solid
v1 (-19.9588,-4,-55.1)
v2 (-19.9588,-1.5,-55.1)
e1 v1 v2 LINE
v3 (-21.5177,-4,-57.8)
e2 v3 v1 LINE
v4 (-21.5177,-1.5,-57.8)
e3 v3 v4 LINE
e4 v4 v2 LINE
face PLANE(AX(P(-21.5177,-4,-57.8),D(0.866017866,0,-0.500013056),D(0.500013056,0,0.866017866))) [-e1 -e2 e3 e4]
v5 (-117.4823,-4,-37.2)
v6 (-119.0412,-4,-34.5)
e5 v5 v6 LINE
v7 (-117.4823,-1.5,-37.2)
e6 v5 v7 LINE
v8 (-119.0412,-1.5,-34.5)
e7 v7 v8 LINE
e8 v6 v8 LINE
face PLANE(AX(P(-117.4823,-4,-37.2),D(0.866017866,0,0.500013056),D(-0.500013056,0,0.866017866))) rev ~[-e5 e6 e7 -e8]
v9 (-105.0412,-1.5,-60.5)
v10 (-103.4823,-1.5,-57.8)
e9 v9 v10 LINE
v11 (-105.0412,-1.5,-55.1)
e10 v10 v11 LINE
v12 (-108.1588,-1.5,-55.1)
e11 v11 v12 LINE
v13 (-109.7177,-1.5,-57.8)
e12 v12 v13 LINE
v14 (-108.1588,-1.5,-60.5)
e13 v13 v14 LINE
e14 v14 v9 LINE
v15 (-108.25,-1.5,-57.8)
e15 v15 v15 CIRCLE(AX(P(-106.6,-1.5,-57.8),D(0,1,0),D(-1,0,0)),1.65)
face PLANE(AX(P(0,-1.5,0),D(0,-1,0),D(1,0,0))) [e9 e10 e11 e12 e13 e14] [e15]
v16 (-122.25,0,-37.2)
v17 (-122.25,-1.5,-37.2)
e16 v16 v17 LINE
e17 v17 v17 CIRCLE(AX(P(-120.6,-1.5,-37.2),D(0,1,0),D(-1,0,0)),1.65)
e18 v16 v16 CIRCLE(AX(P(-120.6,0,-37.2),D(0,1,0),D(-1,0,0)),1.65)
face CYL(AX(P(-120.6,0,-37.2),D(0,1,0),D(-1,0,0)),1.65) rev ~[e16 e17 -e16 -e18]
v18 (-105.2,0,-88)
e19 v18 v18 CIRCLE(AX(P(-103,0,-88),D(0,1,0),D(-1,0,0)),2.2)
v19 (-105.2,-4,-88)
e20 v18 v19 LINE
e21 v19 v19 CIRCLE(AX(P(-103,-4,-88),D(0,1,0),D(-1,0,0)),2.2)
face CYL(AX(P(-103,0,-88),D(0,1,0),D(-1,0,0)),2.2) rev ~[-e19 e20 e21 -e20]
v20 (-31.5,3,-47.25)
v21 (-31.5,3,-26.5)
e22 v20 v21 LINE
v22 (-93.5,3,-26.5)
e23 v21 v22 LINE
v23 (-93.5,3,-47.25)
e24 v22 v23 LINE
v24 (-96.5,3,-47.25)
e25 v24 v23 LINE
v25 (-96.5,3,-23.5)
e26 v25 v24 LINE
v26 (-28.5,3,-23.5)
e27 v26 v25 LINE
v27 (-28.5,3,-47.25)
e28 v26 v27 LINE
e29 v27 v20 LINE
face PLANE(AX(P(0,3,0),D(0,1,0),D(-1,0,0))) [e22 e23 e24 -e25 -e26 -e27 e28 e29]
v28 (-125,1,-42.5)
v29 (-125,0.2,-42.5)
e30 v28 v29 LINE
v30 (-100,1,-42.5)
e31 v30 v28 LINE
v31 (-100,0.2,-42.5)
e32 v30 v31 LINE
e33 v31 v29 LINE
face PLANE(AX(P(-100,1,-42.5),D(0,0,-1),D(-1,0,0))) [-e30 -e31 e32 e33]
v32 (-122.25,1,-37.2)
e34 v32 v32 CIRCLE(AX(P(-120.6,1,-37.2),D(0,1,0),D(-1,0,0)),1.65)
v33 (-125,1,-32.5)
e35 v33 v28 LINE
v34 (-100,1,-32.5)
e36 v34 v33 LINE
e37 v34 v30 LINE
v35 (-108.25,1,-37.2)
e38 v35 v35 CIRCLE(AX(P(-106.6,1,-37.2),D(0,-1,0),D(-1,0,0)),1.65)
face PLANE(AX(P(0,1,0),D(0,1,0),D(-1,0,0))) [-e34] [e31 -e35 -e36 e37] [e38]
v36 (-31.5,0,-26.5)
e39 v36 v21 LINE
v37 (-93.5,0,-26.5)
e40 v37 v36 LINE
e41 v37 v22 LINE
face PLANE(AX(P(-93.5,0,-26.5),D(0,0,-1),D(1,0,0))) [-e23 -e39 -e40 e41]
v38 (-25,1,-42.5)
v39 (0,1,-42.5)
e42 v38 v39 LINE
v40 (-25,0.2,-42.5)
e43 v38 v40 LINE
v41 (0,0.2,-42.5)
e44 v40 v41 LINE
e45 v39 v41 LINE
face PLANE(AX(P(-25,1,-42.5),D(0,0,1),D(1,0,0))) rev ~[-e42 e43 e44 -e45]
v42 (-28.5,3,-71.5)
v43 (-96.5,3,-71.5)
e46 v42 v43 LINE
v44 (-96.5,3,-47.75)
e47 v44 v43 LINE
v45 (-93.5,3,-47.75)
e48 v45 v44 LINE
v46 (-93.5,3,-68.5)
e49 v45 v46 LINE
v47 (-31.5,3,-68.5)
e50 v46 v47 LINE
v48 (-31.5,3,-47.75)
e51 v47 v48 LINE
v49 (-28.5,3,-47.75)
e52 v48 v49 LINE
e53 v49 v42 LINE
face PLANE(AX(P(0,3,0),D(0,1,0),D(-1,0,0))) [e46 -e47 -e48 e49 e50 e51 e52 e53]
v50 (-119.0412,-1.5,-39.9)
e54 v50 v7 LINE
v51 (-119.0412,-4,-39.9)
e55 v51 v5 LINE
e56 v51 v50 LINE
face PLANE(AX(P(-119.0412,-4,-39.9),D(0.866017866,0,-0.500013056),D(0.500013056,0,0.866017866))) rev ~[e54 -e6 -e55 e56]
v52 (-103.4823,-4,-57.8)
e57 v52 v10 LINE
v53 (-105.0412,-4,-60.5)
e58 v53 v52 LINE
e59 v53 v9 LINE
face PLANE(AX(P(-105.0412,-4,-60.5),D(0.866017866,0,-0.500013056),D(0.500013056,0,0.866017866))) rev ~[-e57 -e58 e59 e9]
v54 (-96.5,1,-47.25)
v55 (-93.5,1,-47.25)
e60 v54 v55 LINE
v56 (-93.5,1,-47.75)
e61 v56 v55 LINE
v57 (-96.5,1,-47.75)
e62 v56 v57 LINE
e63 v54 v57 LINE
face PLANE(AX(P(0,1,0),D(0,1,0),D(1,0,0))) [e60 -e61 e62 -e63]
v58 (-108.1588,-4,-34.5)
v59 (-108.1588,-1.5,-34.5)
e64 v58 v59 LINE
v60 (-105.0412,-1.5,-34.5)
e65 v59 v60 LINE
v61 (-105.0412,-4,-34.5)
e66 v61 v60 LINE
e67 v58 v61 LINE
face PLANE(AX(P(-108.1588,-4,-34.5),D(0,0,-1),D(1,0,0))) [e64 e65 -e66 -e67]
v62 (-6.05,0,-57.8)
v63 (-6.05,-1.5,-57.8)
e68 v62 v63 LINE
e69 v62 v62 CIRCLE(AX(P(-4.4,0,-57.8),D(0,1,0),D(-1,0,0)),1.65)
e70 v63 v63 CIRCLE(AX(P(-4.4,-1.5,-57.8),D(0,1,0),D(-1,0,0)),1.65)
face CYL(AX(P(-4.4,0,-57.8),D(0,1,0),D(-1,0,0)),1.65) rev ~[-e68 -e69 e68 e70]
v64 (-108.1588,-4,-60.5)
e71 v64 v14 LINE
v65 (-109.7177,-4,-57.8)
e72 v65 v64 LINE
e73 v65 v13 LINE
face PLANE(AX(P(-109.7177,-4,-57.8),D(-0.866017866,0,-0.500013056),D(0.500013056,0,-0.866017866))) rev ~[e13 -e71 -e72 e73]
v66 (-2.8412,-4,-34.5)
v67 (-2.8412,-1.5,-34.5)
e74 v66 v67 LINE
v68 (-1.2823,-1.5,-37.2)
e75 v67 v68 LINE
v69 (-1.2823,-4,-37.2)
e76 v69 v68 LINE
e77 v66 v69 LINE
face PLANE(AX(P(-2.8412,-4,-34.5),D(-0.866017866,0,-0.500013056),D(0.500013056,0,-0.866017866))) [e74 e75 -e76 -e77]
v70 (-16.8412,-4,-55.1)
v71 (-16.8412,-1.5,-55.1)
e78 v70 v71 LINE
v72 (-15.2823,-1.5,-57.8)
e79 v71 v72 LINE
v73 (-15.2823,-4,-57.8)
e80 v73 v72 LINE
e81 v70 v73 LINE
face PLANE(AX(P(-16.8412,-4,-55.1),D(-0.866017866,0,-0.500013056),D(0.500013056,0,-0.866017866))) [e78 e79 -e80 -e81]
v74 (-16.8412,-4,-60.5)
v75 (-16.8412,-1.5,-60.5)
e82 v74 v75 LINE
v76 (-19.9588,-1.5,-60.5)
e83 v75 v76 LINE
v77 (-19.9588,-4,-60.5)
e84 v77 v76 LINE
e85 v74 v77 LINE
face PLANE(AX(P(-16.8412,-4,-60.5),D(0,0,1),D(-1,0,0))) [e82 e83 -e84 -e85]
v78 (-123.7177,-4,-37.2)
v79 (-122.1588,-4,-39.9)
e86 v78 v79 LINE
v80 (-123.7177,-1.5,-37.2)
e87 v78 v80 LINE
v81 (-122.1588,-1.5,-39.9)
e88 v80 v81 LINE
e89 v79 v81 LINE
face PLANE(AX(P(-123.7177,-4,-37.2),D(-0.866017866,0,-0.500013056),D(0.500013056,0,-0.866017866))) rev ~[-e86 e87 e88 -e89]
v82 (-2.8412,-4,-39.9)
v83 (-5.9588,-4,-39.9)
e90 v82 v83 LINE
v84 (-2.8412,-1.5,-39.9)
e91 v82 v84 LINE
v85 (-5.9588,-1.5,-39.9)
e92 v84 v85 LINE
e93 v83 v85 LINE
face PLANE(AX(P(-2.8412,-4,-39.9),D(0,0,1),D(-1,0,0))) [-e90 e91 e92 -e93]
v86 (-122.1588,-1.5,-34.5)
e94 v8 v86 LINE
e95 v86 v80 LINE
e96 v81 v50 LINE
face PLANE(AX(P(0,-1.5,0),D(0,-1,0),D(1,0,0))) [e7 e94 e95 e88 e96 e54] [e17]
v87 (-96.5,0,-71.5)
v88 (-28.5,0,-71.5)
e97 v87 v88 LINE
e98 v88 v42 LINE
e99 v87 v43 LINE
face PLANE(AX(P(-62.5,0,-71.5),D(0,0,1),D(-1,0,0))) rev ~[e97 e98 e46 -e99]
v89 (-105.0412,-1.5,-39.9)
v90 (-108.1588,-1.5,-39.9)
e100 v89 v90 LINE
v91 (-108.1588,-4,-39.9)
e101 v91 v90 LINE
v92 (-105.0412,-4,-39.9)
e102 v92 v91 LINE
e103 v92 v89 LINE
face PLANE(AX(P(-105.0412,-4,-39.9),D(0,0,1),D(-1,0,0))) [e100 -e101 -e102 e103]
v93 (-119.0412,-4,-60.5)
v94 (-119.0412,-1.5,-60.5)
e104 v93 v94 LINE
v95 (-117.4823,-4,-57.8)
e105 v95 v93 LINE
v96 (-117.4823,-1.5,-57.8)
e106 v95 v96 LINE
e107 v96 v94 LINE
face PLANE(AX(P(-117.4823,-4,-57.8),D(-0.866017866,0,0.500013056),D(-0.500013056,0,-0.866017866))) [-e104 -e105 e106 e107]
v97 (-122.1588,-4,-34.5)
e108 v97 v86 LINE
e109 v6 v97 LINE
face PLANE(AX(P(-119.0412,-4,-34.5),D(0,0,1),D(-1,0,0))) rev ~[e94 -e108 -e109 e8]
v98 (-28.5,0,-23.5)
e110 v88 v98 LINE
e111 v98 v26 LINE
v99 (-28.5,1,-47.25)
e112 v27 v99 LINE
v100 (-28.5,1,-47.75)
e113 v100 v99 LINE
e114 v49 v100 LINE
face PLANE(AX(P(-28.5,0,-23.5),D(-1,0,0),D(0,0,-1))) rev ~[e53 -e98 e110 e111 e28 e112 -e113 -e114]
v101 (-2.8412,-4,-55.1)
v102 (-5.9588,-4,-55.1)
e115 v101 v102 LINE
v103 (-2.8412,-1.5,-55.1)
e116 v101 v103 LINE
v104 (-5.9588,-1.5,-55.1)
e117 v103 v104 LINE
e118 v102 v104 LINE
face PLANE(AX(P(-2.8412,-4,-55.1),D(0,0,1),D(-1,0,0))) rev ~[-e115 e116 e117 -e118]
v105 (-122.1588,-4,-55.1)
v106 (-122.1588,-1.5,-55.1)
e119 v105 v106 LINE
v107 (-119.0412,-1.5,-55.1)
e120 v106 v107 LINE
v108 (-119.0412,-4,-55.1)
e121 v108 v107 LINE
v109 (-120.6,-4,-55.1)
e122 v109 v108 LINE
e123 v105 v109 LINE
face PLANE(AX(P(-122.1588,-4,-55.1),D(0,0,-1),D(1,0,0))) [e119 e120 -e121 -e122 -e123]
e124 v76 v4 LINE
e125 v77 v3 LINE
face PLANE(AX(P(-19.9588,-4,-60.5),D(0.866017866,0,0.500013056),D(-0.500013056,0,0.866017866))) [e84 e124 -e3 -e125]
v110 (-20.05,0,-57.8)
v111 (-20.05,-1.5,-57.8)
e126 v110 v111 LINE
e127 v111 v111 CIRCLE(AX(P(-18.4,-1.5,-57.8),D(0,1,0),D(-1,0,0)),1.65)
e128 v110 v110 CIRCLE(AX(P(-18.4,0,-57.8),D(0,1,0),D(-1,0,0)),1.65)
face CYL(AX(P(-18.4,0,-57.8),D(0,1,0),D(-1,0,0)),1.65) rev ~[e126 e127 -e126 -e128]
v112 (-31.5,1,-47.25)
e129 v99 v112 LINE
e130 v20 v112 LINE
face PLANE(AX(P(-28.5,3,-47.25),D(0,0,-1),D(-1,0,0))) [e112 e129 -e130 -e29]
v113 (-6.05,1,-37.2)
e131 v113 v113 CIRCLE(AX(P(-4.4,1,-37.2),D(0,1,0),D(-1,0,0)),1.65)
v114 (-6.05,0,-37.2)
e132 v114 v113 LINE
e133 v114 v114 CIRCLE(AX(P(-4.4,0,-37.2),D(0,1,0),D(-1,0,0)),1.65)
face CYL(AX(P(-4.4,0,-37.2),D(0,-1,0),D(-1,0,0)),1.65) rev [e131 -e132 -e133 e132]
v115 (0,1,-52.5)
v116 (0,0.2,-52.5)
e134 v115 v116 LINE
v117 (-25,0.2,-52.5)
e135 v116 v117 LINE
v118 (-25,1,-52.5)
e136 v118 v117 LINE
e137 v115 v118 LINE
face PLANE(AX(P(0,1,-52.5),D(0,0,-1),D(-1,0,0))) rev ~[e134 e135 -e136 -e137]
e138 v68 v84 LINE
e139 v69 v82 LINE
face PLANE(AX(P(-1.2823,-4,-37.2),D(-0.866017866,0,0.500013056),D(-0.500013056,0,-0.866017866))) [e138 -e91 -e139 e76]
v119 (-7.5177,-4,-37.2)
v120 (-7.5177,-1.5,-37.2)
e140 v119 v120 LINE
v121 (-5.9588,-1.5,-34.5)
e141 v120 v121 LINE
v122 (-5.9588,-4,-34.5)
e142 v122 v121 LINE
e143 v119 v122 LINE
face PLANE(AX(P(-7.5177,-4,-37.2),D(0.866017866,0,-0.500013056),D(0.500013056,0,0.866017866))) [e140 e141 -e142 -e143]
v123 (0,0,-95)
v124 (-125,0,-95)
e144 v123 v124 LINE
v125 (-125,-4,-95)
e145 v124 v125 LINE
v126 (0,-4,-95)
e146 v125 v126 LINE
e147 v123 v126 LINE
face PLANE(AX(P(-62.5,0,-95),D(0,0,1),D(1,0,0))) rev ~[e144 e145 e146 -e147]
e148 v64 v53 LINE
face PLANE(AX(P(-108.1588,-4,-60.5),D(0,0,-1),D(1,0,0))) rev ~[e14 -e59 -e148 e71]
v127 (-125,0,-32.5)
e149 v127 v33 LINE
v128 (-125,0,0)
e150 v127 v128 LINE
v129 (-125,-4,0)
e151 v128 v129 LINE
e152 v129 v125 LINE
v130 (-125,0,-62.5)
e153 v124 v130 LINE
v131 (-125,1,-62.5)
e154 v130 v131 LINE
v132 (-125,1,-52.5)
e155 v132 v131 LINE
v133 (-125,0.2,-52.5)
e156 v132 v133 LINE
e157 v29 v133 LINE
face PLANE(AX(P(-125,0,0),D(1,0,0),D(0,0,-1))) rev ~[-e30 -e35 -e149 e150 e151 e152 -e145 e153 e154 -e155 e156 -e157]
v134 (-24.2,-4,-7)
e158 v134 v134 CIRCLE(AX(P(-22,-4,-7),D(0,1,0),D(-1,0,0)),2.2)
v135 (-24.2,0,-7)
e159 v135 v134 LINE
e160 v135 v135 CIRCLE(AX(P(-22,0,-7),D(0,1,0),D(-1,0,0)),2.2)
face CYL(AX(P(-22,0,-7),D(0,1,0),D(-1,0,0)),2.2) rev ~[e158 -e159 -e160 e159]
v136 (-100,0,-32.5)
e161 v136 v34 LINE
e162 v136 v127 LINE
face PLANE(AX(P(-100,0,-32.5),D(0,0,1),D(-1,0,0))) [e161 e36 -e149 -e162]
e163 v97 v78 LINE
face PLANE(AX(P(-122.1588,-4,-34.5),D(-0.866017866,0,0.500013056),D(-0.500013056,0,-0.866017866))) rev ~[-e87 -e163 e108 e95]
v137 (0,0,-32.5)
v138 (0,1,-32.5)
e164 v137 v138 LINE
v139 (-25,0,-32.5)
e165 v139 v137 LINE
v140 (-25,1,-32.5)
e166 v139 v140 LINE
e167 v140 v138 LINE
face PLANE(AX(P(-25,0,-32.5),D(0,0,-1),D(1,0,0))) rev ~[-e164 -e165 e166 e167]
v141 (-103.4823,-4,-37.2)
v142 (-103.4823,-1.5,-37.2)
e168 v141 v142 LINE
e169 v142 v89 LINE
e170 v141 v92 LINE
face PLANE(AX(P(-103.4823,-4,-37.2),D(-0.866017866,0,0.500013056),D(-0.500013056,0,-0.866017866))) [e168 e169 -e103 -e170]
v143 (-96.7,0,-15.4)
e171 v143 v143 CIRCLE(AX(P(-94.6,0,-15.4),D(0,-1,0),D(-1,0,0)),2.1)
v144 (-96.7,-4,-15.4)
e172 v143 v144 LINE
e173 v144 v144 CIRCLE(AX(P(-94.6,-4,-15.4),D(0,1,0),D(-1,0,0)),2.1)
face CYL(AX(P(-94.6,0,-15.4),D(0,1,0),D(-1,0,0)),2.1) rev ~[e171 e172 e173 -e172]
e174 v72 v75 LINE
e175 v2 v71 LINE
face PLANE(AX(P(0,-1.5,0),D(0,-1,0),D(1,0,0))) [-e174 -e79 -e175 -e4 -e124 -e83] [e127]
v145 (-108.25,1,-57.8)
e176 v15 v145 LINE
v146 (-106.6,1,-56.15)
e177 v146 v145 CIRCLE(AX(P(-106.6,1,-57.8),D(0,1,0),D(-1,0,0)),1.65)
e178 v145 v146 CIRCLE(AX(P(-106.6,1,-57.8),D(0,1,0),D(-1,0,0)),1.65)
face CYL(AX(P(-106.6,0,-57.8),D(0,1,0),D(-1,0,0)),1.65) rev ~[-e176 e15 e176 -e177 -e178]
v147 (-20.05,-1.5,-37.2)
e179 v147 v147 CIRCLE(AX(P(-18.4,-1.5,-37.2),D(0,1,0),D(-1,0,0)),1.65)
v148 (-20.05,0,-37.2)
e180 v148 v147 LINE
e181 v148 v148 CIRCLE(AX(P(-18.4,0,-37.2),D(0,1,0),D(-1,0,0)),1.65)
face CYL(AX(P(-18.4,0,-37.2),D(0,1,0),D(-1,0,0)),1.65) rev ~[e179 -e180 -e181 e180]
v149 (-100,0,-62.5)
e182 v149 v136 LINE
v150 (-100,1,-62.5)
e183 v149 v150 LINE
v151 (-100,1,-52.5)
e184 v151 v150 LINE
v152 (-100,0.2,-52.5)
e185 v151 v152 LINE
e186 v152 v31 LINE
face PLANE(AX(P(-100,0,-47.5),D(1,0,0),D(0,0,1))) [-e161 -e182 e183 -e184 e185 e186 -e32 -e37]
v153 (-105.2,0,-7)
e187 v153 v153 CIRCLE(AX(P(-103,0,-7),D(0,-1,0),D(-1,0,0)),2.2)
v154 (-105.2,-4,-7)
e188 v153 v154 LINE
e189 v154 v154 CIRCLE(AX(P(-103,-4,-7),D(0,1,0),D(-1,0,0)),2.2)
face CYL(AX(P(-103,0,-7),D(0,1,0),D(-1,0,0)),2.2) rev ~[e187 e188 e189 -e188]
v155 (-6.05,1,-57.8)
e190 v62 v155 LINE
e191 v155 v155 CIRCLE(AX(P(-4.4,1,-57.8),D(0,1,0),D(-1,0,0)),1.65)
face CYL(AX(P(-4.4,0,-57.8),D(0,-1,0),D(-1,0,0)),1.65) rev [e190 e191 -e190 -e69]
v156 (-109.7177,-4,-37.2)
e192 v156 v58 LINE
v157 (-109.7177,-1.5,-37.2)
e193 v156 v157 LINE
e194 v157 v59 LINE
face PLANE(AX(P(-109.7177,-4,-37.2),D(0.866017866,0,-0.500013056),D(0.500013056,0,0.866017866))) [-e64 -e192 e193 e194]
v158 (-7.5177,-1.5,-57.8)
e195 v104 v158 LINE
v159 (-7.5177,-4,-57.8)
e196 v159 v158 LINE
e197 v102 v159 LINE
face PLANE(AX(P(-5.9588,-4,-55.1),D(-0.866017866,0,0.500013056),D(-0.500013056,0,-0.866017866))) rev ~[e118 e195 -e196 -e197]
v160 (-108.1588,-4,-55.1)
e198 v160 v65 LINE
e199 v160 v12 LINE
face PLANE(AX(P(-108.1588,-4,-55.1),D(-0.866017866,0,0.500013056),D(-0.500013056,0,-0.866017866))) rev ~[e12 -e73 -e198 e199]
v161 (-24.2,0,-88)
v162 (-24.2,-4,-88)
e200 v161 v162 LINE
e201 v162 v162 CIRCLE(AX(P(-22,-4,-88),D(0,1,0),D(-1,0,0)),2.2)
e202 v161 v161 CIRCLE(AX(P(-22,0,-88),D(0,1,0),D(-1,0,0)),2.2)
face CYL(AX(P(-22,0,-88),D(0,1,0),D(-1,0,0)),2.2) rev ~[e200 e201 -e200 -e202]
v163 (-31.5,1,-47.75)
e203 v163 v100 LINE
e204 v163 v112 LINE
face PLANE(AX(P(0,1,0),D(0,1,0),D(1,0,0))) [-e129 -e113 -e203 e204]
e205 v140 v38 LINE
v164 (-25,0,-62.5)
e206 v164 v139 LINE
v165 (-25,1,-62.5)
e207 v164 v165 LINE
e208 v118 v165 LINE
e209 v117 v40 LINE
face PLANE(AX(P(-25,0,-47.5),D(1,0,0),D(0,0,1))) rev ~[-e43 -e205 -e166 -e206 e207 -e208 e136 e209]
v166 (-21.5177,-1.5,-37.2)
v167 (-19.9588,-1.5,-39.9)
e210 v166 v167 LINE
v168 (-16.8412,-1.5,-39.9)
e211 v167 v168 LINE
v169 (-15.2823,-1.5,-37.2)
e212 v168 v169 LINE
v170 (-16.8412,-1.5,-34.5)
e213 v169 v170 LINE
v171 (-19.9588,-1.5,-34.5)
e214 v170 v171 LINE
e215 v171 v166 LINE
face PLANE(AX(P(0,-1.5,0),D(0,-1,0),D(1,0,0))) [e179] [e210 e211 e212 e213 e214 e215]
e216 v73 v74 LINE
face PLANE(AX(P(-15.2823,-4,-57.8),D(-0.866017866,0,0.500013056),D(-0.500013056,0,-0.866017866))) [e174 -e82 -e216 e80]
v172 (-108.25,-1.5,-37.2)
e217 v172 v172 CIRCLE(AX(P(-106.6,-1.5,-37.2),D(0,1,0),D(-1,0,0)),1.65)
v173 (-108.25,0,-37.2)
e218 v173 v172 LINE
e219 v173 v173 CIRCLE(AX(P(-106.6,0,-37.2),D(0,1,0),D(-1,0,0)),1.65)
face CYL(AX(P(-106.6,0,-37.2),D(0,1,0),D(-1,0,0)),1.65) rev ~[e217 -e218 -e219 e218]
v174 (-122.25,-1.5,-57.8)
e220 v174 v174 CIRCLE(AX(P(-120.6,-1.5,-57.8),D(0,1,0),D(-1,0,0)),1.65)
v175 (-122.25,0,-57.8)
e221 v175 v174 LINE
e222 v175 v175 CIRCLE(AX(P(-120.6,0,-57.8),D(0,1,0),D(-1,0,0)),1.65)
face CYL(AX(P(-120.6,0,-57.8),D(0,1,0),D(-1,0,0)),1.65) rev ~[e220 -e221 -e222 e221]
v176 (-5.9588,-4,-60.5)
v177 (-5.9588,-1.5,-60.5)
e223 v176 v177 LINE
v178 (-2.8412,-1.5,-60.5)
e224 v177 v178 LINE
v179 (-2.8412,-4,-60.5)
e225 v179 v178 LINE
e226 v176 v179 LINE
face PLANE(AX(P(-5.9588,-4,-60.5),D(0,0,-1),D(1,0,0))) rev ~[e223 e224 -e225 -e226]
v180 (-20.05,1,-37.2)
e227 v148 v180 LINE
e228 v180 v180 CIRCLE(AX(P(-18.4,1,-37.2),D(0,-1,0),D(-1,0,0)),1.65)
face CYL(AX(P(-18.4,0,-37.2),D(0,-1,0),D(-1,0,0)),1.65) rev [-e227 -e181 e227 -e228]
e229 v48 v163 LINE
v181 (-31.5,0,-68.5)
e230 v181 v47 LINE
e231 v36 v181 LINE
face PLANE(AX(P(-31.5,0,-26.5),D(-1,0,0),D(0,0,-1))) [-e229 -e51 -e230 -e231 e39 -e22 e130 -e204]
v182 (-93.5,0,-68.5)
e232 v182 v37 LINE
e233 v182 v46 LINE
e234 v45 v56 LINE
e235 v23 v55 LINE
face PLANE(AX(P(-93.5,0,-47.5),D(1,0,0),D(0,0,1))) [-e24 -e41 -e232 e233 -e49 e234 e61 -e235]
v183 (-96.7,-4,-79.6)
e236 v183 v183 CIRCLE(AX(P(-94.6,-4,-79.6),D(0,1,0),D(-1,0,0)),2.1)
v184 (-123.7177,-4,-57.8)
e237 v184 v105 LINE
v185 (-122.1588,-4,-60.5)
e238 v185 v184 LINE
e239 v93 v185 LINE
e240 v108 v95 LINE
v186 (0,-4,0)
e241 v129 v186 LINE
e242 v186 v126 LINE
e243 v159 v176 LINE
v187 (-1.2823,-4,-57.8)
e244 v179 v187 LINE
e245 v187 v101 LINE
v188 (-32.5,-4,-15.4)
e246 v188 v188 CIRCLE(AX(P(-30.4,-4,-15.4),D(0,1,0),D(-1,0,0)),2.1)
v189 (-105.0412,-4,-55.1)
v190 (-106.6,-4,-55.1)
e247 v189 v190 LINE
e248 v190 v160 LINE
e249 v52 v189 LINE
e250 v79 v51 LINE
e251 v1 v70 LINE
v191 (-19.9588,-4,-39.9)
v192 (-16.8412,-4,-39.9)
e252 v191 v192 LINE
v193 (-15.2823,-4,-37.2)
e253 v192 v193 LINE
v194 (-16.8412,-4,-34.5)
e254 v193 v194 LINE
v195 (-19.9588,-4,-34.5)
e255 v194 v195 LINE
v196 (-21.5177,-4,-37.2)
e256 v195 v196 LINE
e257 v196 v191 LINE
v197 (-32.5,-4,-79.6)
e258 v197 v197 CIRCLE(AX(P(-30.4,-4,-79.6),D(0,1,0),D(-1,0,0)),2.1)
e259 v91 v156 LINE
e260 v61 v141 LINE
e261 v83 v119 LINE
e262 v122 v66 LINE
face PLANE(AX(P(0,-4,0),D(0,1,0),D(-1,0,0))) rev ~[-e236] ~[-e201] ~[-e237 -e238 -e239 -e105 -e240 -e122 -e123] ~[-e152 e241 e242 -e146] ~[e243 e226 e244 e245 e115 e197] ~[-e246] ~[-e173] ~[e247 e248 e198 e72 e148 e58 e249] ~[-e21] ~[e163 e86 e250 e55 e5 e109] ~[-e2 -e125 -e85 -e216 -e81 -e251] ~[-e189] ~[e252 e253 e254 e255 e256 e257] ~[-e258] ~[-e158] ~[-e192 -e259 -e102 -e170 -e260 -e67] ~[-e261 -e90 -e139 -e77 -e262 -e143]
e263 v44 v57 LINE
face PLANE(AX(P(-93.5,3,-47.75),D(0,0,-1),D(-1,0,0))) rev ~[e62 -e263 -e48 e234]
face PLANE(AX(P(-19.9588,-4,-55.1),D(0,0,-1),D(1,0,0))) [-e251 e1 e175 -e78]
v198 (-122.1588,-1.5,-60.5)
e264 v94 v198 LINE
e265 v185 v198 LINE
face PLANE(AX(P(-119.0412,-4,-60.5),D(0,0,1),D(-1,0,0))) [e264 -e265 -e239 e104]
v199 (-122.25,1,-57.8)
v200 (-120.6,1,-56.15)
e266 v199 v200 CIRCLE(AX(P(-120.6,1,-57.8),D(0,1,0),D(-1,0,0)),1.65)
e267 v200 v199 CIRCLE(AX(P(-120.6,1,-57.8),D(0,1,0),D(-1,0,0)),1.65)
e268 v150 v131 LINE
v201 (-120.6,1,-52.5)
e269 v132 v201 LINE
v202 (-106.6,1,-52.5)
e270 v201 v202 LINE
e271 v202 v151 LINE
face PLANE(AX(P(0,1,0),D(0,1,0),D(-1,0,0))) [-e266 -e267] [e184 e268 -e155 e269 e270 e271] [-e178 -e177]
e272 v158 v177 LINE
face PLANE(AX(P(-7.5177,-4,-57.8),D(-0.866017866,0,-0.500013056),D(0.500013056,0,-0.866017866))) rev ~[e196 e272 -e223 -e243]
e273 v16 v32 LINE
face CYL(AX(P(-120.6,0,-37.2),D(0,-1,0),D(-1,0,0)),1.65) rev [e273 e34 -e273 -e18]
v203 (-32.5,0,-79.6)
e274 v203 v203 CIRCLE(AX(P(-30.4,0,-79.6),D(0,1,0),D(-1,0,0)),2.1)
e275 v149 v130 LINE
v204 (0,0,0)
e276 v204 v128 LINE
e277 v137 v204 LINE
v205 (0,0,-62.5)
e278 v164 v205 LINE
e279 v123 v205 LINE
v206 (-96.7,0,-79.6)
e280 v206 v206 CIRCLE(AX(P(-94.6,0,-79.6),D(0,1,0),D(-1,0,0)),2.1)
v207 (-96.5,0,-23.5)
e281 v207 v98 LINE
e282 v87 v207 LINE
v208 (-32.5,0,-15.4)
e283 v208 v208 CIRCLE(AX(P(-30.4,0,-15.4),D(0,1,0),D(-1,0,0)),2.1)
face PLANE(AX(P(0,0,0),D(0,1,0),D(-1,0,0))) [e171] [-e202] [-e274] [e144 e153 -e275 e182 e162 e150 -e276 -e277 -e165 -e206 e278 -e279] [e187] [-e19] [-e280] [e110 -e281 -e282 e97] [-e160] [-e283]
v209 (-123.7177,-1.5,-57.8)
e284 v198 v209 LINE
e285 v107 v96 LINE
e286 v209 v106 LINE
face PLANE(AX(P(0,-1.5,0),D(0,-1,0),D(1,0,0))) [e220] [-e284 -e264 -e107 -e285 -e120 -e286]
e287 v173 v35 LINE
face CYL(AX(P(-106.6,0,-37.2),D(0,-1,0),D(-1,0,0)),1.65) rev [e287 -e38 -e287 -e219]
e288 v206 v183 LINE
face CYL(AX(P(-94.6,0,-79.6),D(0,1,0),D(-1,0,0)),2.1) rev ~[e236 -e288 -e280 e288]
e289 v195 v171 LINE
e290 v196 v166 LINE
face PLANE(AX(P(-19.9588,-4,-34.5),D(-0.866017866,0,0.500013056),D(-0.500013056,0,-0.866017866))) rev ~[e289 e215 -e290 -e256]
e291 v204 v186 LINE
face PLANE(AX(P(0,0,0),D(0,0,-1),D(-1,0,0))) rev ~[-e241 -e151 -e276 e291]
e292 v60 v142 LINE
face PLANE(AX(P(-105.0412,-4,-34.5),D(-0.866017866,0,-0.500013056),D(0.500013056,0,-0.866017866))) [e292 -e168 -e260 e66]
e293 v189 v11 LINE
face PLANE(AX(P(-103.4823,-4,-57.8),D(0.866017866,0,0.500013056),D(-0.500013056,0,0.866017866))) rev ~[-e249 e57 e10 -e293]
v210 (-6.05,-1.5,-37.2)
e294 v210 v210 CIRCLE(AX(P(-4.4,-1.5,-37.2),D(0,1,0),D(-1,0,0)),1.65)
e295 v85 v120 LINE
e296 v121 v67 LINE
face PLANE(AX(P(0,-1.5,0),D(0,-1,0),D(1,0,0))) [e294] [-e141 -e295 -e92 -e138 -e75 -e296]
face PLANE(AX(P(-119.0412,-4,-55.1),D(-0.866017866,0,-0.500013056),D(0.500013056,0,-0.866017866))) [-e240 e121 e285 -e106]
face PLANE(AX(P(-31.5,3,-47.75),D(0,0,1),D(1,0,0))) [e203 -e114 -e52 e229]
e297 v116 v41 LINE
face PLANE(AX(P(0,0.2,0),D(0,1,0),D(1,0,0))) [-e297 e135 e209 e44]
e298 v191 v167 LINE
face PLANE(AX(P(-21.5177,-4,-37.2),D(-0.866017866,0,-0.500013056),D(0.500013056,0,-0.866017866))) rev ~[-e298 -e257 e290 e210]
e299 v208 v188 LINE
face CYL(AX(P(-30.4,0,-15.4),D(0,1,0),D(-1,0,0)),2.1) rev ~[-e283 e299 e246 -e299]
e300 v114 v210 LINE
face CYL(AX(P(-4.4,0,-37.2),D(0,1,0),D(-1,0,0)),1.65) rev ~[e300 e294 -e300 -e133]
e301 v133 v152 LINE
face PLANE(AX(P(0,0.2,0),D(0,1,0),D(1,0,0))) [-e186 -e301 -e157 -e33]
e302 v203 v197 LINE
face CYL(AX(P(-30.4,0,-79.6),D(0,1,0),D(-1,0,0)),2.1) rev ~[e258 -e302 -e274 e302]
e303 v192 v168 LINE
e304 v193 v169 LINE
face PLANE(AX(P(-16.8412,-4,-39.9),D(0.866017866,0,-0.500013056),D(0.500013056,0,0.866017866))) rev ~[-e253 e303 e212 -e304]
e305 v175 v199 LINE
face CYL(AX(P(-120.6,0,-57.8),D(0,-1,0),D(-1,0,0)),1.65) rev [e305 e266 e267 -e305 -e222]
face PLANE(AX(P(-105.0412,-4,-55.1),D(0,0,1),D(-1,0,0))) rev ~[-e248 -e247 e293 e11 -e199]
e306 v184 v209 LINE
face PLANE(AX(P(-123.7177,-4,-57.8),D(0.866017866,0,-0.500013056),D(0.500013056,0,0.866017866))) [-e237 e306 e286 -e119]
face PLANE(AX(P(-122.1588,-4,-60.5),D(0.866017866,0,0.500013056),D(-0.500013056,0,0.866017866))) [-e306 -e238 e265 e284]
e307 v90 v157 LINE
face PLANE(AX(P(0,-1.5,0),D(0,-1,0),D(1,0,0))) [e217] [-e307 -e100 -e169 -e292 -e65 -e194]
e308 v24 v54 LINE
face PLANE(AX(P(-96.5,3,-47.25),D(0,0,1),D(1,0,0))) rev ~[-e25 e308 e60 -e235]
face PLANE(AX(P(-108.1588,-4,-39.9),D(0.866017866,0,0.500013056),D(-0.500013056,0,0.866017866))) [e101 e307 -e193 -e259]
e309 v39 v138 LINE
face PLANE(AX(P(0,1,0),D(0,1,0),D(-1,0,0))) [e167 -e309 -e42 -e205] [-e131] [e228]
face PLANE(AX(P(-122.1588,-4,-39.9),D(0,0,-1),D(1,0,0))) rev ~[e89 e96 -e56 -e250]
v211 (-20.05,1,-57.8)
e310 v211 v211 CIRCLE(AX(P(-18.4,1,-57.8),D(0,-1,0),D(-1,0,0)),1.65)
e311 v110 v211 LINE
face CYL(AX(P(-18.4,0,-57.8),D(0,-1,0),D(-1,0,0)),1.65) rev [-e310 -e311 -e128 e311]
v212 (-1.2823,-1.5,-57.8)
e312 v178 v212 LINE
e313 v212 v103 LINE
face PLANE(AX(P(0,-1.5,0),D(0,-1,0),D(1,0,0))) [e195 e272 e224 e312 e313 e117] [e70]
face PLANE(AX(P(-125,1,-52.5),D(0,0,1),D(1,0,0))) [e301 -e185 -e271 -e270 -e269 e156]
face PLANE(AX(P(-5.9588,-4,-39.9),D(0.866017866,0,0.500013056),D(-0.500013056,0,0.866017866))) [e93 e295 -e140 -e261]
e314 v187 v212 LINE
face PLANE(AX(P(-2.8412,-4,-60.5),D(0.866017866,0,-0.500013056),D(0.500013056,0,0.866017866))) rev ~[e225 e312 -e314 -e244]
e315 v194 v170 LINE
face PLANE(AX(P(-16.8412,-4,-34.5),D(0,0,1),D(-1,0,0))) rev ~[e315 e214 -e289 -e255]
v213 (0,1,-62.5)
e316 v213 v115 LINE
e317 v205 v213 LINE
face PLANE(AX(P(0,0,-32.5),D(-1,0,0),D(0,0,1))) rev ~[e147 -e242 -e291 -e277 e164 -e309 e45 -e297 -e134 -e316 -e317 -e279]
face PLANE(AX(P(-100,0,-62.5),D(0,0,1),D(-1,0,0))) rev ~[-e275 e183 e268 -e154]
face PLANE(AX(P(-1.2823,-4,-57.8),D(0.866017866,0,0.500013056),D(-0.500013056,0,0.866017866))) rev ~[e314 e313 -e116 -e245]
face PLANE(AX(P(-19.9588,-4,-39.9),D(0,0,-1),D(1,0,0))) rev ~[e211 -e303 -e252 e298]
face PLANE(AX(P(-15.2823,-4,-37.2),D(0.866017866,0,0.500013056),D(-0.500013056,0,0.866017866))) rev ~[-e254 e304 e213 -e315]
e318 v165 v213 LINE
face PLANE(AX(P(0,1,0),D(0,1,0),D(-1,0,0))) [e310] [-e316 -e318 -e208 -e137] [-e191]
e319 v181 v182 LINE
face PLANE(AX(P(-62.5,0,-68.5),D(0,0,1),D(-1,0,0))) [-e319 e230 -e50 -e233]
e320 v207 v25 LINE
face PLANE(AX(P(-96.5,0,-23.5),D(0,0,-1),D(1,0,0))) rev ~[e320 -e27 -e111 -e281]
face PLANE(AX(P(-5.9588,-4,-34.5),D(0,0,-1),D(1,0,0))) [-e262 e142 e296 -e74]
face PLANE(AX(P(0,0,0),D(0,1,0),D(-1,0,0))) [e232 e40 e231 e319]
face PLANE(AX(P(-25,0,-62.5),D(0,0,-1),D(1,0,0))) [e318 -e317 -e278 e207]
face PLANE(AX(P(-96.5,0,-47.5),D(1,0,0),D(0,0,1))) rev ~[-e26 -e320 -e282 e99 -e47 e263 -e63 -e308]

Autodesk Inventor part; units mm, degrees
ref_plane "YZ Plane" through (0, 0, 0) normal (1, 0, 0) x (0, 1, 0)
ref_plane "XZ Plane" through (0, 0, 0) normal (0, 1, 0) x (-1, 0, 0)
ref_plane "XY Plane" through (0, 0, 0) normal (0, 0, 1) x (1, 0, 0)
sketch "Boceto1" plane through (0, 0, 0) normal (0, 1, 0) x (-1, 0, 0)
  line L0 (0, 0) -> (125, 0)
  line L1 (125, 0) -> (125, -95)
  line L2 (125, -95) -> (0, -95)
  line L3 (0, -95) -> (0, 0)
  line L4 (93.5, -26.5) -> (31.5, -26.5)
  line L5 (31.5, -26.5) -> (31.5, -68.5)
  line L6 (31.5, -68.5) -> (93.5, -68.5)
  line L7 (93.5, -68.5) -> (93.5, -26.5)
  line L8 (62.5, -26.5) -> (62.5, 0)
  line L9 (93.5, -47.5) -> (125, -47.5)
  line L10 (62.5, -68.5) -> (62.5, -95)
  line L11 (31.5, -47.5) -> (0, -47.5)
  line L12 (96.5, -23.5) -> (28.5, -23.5)
  line L13 (28.5, -23.5) -> (28.5, -71.5)
  line L14 (28.5, -71.5) -> (96.5, -71.5)
  line L15 (96.5, -71.5) -> (96.5, -23.5)
  line L16 (125, 0) -> (103, 0)
  line L17 (103, 0) -> (103, -7)
  line L18 (103, -7) -> (125, -7)
  line L19 (125, -7) -> (125, 0)
  circle A0 centre (103, -7) radius 2.2
  circle A1 centre (103, -88) radius 2.2
  circle A2 centre (22, -7) radius 2.2
  circle A3 centre (22, -88) radius 2.2
  line L20 (125, -47.5) -> (100, -47.5)
  line L21 (100, -47.5) -> (100, -62.5)
  line L22 (100, -62.5) -> (125, -62.5)
  line L23 (100, -47.5) -> (100, -32.5)
  line L24 (100, -32.5) -> (125, -32.5)
  line L25 (120.6, -47.5) -> (120.6, -57.8)
  circle A4 centre (120.6, -57.8) radius 1.65
  circle A5 centre (120.6, -37.2) radius 1.65
  line L26 (25, -47.5) -> (25, -62.5)
  line L27 (25, -62.5) -> (0, -62.5)
  line L28 (25, -47.5) -> (25, -32.5)
  line L29 (25, -32.5) -> (0, -32.5)
  circle A6 centre (4.4, -57.8) radius 1.65
  circle A7 centre (4.4, -37.2) radius 1.65
  line L30 (103, -7) -> (94.6, -7)
  line L31 (103, -7) -> (103, -15.4)
  line L32 (103, -7) -> (94.6, -7)
  line L33 (94.6, -7) -> (94.6, -15.4)
  line L34 (94.6, -15.4) -> (103, -15.4)
  line L35 (103, -15.4) -> (103, -7)
  circle A8 centre (94.6, -15.4) radius 2.1
  circle A9 centre (94.6, -79.6) radius 2.1
  circle A10 centre (30.4, -15.4) radius 2.1
  circle A11 centre (30.4, -79.6) radius 2.1
  line L36 (106.6, -47.5) -> (106.6, -57.8)
  circle A12 centre (106.6, -57.8) radius 1.65
  circle A13 centre (106.6, -37.2) radius 1.65
  circle A14 centre (18.4, -57.8) radius 1.65
  circle A15 centre (18.4, -37.2) radius 1.65
  point P0 (62.5, -23.5)
  point P1 (62.5, -71.5)
  dimension "d0" = 95
  dimension "d1" = 125
  dimension "d2" = 42
  dimension "d3" = 62
  dimension "d4" = 3
  dimension "d5" = 7
  dimension "d6" = 22
  dimension "d7" = 4.4
  dimension "d10" = 25
  dimension "d11" = 15
  dimension "d12" = 10.3
  dimension "d13" = 3.3
  dimension "d29" = 8.4
  dimension "d30" = 8.4
  dimension "d31" = 4.2
  dimension "d35" = 10.3
  dimension "d36" = 3.3
  dimension "d37" = 6.6
  dimension "d38" = 14
extrude "Extrusión1" add sketch "Boceto1" against normal blind 4 contours L0 L8 L12 L13 L11 L28 L29 L3 | L0 L17 A0 L30 L33 A8 L34 L31 L18 L1 L24 L23 L9 L15 L12 L8 | L29 L28 L11 L3 | L0 L1 L18 A0 L17 | L12 L15 L9 L7 L4 L8 | L8 L4 L5 L11 L13 L12 | L11 L26 L27 L3 | L4 L7 L6 L5 | L27 L26 L11 L13 L14 L10 L2 L3 | A0 L31 L34 A8 L33 L30 | L15 L14 L10 L6 L7 L9 | L9 L21 L22 L1 L2 L10 L14 L15 | L11 L5 L6 L10 L14 L13 | L1 L9 L23 L24 | A12 | L9 L1 L22 L21 | A8 L34 L33 | L33 L34 A8 | A9 | A10 | A11 | A13 | A14 | A15
extrude "Extrusión2" add sketch "Boceto1" along normal blind 3 contours L12 L15 L9 L7 L4 L8 | L8 L4 L5 L11 L13 L12 | L15 L14 L10 L6 L7 L9 | L11 L5 L6 L10 L14 L13
sketch "Boceto2" plane through (0, 3, 0) normal (0, 1, 0) x (1, 0, 0)
  line L0 (-31.5, 47.5) -> (0, 47.5) projected
  line L1 (-62.5, 68.5) -> (-62.5, 95) projected
  line L2 (-28.5, 23.5) -> (-28.5, 71.5) projected
  line L3 (-31.5, 68.5) -> (-31.5, 26.5) projected
  line L4 (-28.5, 47.25) -> (-31.5, 47.25)
  line L5 (-31.5, 47.25) -> (-31.5, 47.75)
  line L6 (-31.5, 47.75) -> (-28.5, 47.75)
  line L7 (-28.5, 47.75) -> (-28.5, 47.25)
  line L8 (-96.5, 23.5) -> (-96.5, 71.5)
  line L9 (-93.5, 68.5) -> (-93.5, 26.5)
  line L10 (-96.5, 47.25) -> (-93.5, 47.25)
  line L11 (-93.5, 47.75) -> (-96.5, 47.75)
  point P0 (0, 0)
  point P1 (-93.5, 47.25)
  point P2 (-96.5, 47.75)
  point P3 (-31.5, 47.25)
  point P4 (-28.5, 47.75)
  dimension "d16" = 0.5
  dimension "d17" = 0.25
extrude "Extrusión3" cut sketch "Boceto2" against normal blind 2
extrude "Extrusión4" add sketch "Boceto1" along normal blind 1 contours L29 L28 L11 L3 | L11 L26 L27 L3 | L1 L9 L23 L24 | A12 | L9 L1 L22 L21 | A13 | A14 | A15
sketch "Boceto3" plane through (0, 1, 0) normal (0, 1, 0) x (1, 0, 0)
  line L0 (-31.5, 47.5) -> (0, 47.5) projected
  line L1 (-25, 62.5) -> (-25, 32.5) projected
  line L2 (0, 32.5) -> (0, 62.5) projected
  line L3 (-25, 42.5) -> (0, 42.5)
  line L4 (0, 42.5) -> (0, 52.5)
  line L5 (0, 52.5) -> (-25, 52.5)
  line L6 (-25, 52.5) -> (-25, 42.5)
  line L7 (-62.5, 68.5) -> (-62.5, 95) projected
  line L8 (-100, 62.5) -> (-100, 32.5)
  line L9 (-125, 32.5) -> (-125, 62.5)
  line L10 (-100, 42.5) -> (-125, 42.5)
  line L11 (-125, 52.5) -> (-100, 52.5)
  point P0 (0, 0)
  point P1 (-125, 42.5)
  point P2 (-100, 52.5)
  point P3 (0, 42.5)
  point P4 (-25, 52.5)
  dimension "d22" = 5
  dimension "d23" = 5
extrude "Extrusión5" cut sketch "Boceto3" against normal blind 0.8
sketch "Boceto4" plane through (0, -4, 0) normal (0, -1, 0) x (1, 0, 0)
  circle A0 centre (-4.4, -37.2) radius 1.65 projected
  line L0 (-1.2823, -37.2) -> (-2.8412, -39.9)
  line L1 (-2.8412, -39.9) -> (-5.9588, -39.9)
  line L2 (-5.9588, -39.9) -> (-7.5177, -37.2)
  line L3 (-7.5177, -37.2) -> (-5.9588, -34.5)
  line L4 (-5.9588, -34.5) -> (-2.8412, -34.5)
  line L5 (-2.8412, -34.5) -> (-1.2823, -37.2)
  line L6 (-31.5, -47.5) -> (0, -47.5) projected
  line L7 (-62.5, -68.5) -> (-62.5, -95) projected
  line L8 (-1.2823, -57.8) -> (-2.8412, -55.1)
  line L9 (-2.8412, -55.1) -> (-5.9588, -55.1)
  line L10 (-5.9588, -55.1) -> (-7.5177, -57.8)
  line L11 (-7.5177, -57.8) -> (-5.9588, -60.5)
  line L12 (-5.9588, -60.5) -> (-2.8412, -60.5)
  line L13 (-2.8412, -60.5) -> (-1.2823, -57.8)
  line L14 (-123.7177, -37.2) -> (-122.1588, -39.9)
  line L15 (-122.1588, -39.9) -> (-119.0412, -39.9)
  line L16 (-119.0412, -39.9) -> (-117.4823, -37.2)
  line L17 (-117.4823, -37.2) -> (-119.0412, -34.5)
  line L18 (-119.0412, -34.5) -> (-122.1588, -34.5)
  line L19 (-122.1588, -34.5) -> (-123.7177, -37.2)
  line L20 (-122.1588, -60.5) -> (-123.7177, -57.8)
  line L21 (-123.7177, -57.8) -> (-122.1588, -55.1)
  line L22 (-122.1588, -55.1) -> (-119.0412, -55.1)
  line L23 (-119.0412, -55.1) -> (-117.4823, -57.8)
  line L24 (-117.4823, -57.8) -> (-119.0412, -60.5)
  line L25 (-119.0412, -60.5) -> (-122.1588, -60.5)
  line L26 (-4.4, -57.8) -> (-18.4, -57.8)
  line L27 (-18.4, -57.8) -> (-11.4, -57.8)
  line L28 (-11.4, -60.5) -> (-11.4, -57.8)
  line L29 (-4.4, -37.2) -> (-18.4, -37.2)
  line L30 (-18.4, -37.2) -> (-11.4, -37.2)
  line L31 (-11.4, -37.2) -> (-11.4, -39.9)
  line L32 (-21.5177, -37.2) -> (-19.9588, -39.9)
  line L33 (-19.9588, -39.9) -> (-16.8412, -39.9)
  line L34 (-16.8412, -39.9) -> (-15.2823, -37.2)
  line L35 (-15.2823, -37.2) -> (-16.8412, -34.5)
  line L36 (-16.8412, -34.5) -> (-19.9588, -34.5)
  line L37 (-19.9588, -34.5) -> (-21.5177, -37.2)
  line L38 (-19.9588, -60.5) -> (-21.5177, -57.8)
  line L39 (-21.5177, -57.8) -> (-19.9588, -55.1)
  line L40 (-19.9588, -55.1) -> (-16.8412, -55.1)
  line L41 (-16.8412, -55.1) -> (-15.2823, -57.8)
  line L42 (-15.2823, -57.8) -> (-16.8412, -60.5)
  line L43 (-16.8412, -60.5) -> (-19.9588, -60.5)
  line L44 (-108.1588, -60.5) -> (-105.0412, -60.5)
  line L45 (-105.0412, -60.5) -> (-103.4823, -57.8)
  line L46 (-103.4823, -57.8) -> (-105.0412, -55.1)
  line L47 (-105.0412, -55.1) -> (-108.1588, -55.1)
  line L48 (-108.1588, -55.1) -> (-109.7177, -57.8)
  line L49 (-109.7177, -57.8) -> (-108.1588, -60.5)
  line L50 (-109.7177, -37.2) -> (-108.1588, -34.5)
  line L51 (-108.1588, -39.9) -> (-109.7177, -37.2)
  line L52 (-105.0412, -39.9) -> (-108.1588, -39.9)
  line L53 (-103.4823, -37.2) -> (-105.0412, -39.9)
  line L54 (-105.0412, -34.5) -> (-103.4823, -37.2)
  line L55 (-108.1588, -34.5) -> (-105.0412, -34.5)
  point P0 (0, 0)
  point P1 (-4.4, -39.9)
  point P2 (-4.4, -34.5)
  point P3 (-120.6, -39.9)
  point P4 (-106.6, -57.8)
  point P5 (-106.6, -37.2)
  dimension "d26" = 5.4
extrude "Extrusión6" cut sketch "Boceto4" against normal blind 2.5 contours A0 | L3 L4 L5 L0 L1 L2 | L34 L33 L32 L37 L36 L35 | L13 L12 L11 L10 L9 L8 | L42 L43 L38 L39 L40 L41 | L19 L18 L17 L16 L15 L14 | L20 L21 L22 L23 L24 L25 | L49 L48 L47 L46 L45 L44 | L50 L55 L54 L53 L52 L51
extrude "Extrusión7" cut sketch "Boceto1" against normal blind 5 contours A8 L34 L33 | L33 L34 A8 | A9 | A10 | A11
extrude "Extrusión8" cut sketch "Boceto1" along normal mid plane 10 contours A12 | A13 | A14 | A15
equation "\"d36\" = d13"
properties part number "Molde grande 643FBR 1mm"
